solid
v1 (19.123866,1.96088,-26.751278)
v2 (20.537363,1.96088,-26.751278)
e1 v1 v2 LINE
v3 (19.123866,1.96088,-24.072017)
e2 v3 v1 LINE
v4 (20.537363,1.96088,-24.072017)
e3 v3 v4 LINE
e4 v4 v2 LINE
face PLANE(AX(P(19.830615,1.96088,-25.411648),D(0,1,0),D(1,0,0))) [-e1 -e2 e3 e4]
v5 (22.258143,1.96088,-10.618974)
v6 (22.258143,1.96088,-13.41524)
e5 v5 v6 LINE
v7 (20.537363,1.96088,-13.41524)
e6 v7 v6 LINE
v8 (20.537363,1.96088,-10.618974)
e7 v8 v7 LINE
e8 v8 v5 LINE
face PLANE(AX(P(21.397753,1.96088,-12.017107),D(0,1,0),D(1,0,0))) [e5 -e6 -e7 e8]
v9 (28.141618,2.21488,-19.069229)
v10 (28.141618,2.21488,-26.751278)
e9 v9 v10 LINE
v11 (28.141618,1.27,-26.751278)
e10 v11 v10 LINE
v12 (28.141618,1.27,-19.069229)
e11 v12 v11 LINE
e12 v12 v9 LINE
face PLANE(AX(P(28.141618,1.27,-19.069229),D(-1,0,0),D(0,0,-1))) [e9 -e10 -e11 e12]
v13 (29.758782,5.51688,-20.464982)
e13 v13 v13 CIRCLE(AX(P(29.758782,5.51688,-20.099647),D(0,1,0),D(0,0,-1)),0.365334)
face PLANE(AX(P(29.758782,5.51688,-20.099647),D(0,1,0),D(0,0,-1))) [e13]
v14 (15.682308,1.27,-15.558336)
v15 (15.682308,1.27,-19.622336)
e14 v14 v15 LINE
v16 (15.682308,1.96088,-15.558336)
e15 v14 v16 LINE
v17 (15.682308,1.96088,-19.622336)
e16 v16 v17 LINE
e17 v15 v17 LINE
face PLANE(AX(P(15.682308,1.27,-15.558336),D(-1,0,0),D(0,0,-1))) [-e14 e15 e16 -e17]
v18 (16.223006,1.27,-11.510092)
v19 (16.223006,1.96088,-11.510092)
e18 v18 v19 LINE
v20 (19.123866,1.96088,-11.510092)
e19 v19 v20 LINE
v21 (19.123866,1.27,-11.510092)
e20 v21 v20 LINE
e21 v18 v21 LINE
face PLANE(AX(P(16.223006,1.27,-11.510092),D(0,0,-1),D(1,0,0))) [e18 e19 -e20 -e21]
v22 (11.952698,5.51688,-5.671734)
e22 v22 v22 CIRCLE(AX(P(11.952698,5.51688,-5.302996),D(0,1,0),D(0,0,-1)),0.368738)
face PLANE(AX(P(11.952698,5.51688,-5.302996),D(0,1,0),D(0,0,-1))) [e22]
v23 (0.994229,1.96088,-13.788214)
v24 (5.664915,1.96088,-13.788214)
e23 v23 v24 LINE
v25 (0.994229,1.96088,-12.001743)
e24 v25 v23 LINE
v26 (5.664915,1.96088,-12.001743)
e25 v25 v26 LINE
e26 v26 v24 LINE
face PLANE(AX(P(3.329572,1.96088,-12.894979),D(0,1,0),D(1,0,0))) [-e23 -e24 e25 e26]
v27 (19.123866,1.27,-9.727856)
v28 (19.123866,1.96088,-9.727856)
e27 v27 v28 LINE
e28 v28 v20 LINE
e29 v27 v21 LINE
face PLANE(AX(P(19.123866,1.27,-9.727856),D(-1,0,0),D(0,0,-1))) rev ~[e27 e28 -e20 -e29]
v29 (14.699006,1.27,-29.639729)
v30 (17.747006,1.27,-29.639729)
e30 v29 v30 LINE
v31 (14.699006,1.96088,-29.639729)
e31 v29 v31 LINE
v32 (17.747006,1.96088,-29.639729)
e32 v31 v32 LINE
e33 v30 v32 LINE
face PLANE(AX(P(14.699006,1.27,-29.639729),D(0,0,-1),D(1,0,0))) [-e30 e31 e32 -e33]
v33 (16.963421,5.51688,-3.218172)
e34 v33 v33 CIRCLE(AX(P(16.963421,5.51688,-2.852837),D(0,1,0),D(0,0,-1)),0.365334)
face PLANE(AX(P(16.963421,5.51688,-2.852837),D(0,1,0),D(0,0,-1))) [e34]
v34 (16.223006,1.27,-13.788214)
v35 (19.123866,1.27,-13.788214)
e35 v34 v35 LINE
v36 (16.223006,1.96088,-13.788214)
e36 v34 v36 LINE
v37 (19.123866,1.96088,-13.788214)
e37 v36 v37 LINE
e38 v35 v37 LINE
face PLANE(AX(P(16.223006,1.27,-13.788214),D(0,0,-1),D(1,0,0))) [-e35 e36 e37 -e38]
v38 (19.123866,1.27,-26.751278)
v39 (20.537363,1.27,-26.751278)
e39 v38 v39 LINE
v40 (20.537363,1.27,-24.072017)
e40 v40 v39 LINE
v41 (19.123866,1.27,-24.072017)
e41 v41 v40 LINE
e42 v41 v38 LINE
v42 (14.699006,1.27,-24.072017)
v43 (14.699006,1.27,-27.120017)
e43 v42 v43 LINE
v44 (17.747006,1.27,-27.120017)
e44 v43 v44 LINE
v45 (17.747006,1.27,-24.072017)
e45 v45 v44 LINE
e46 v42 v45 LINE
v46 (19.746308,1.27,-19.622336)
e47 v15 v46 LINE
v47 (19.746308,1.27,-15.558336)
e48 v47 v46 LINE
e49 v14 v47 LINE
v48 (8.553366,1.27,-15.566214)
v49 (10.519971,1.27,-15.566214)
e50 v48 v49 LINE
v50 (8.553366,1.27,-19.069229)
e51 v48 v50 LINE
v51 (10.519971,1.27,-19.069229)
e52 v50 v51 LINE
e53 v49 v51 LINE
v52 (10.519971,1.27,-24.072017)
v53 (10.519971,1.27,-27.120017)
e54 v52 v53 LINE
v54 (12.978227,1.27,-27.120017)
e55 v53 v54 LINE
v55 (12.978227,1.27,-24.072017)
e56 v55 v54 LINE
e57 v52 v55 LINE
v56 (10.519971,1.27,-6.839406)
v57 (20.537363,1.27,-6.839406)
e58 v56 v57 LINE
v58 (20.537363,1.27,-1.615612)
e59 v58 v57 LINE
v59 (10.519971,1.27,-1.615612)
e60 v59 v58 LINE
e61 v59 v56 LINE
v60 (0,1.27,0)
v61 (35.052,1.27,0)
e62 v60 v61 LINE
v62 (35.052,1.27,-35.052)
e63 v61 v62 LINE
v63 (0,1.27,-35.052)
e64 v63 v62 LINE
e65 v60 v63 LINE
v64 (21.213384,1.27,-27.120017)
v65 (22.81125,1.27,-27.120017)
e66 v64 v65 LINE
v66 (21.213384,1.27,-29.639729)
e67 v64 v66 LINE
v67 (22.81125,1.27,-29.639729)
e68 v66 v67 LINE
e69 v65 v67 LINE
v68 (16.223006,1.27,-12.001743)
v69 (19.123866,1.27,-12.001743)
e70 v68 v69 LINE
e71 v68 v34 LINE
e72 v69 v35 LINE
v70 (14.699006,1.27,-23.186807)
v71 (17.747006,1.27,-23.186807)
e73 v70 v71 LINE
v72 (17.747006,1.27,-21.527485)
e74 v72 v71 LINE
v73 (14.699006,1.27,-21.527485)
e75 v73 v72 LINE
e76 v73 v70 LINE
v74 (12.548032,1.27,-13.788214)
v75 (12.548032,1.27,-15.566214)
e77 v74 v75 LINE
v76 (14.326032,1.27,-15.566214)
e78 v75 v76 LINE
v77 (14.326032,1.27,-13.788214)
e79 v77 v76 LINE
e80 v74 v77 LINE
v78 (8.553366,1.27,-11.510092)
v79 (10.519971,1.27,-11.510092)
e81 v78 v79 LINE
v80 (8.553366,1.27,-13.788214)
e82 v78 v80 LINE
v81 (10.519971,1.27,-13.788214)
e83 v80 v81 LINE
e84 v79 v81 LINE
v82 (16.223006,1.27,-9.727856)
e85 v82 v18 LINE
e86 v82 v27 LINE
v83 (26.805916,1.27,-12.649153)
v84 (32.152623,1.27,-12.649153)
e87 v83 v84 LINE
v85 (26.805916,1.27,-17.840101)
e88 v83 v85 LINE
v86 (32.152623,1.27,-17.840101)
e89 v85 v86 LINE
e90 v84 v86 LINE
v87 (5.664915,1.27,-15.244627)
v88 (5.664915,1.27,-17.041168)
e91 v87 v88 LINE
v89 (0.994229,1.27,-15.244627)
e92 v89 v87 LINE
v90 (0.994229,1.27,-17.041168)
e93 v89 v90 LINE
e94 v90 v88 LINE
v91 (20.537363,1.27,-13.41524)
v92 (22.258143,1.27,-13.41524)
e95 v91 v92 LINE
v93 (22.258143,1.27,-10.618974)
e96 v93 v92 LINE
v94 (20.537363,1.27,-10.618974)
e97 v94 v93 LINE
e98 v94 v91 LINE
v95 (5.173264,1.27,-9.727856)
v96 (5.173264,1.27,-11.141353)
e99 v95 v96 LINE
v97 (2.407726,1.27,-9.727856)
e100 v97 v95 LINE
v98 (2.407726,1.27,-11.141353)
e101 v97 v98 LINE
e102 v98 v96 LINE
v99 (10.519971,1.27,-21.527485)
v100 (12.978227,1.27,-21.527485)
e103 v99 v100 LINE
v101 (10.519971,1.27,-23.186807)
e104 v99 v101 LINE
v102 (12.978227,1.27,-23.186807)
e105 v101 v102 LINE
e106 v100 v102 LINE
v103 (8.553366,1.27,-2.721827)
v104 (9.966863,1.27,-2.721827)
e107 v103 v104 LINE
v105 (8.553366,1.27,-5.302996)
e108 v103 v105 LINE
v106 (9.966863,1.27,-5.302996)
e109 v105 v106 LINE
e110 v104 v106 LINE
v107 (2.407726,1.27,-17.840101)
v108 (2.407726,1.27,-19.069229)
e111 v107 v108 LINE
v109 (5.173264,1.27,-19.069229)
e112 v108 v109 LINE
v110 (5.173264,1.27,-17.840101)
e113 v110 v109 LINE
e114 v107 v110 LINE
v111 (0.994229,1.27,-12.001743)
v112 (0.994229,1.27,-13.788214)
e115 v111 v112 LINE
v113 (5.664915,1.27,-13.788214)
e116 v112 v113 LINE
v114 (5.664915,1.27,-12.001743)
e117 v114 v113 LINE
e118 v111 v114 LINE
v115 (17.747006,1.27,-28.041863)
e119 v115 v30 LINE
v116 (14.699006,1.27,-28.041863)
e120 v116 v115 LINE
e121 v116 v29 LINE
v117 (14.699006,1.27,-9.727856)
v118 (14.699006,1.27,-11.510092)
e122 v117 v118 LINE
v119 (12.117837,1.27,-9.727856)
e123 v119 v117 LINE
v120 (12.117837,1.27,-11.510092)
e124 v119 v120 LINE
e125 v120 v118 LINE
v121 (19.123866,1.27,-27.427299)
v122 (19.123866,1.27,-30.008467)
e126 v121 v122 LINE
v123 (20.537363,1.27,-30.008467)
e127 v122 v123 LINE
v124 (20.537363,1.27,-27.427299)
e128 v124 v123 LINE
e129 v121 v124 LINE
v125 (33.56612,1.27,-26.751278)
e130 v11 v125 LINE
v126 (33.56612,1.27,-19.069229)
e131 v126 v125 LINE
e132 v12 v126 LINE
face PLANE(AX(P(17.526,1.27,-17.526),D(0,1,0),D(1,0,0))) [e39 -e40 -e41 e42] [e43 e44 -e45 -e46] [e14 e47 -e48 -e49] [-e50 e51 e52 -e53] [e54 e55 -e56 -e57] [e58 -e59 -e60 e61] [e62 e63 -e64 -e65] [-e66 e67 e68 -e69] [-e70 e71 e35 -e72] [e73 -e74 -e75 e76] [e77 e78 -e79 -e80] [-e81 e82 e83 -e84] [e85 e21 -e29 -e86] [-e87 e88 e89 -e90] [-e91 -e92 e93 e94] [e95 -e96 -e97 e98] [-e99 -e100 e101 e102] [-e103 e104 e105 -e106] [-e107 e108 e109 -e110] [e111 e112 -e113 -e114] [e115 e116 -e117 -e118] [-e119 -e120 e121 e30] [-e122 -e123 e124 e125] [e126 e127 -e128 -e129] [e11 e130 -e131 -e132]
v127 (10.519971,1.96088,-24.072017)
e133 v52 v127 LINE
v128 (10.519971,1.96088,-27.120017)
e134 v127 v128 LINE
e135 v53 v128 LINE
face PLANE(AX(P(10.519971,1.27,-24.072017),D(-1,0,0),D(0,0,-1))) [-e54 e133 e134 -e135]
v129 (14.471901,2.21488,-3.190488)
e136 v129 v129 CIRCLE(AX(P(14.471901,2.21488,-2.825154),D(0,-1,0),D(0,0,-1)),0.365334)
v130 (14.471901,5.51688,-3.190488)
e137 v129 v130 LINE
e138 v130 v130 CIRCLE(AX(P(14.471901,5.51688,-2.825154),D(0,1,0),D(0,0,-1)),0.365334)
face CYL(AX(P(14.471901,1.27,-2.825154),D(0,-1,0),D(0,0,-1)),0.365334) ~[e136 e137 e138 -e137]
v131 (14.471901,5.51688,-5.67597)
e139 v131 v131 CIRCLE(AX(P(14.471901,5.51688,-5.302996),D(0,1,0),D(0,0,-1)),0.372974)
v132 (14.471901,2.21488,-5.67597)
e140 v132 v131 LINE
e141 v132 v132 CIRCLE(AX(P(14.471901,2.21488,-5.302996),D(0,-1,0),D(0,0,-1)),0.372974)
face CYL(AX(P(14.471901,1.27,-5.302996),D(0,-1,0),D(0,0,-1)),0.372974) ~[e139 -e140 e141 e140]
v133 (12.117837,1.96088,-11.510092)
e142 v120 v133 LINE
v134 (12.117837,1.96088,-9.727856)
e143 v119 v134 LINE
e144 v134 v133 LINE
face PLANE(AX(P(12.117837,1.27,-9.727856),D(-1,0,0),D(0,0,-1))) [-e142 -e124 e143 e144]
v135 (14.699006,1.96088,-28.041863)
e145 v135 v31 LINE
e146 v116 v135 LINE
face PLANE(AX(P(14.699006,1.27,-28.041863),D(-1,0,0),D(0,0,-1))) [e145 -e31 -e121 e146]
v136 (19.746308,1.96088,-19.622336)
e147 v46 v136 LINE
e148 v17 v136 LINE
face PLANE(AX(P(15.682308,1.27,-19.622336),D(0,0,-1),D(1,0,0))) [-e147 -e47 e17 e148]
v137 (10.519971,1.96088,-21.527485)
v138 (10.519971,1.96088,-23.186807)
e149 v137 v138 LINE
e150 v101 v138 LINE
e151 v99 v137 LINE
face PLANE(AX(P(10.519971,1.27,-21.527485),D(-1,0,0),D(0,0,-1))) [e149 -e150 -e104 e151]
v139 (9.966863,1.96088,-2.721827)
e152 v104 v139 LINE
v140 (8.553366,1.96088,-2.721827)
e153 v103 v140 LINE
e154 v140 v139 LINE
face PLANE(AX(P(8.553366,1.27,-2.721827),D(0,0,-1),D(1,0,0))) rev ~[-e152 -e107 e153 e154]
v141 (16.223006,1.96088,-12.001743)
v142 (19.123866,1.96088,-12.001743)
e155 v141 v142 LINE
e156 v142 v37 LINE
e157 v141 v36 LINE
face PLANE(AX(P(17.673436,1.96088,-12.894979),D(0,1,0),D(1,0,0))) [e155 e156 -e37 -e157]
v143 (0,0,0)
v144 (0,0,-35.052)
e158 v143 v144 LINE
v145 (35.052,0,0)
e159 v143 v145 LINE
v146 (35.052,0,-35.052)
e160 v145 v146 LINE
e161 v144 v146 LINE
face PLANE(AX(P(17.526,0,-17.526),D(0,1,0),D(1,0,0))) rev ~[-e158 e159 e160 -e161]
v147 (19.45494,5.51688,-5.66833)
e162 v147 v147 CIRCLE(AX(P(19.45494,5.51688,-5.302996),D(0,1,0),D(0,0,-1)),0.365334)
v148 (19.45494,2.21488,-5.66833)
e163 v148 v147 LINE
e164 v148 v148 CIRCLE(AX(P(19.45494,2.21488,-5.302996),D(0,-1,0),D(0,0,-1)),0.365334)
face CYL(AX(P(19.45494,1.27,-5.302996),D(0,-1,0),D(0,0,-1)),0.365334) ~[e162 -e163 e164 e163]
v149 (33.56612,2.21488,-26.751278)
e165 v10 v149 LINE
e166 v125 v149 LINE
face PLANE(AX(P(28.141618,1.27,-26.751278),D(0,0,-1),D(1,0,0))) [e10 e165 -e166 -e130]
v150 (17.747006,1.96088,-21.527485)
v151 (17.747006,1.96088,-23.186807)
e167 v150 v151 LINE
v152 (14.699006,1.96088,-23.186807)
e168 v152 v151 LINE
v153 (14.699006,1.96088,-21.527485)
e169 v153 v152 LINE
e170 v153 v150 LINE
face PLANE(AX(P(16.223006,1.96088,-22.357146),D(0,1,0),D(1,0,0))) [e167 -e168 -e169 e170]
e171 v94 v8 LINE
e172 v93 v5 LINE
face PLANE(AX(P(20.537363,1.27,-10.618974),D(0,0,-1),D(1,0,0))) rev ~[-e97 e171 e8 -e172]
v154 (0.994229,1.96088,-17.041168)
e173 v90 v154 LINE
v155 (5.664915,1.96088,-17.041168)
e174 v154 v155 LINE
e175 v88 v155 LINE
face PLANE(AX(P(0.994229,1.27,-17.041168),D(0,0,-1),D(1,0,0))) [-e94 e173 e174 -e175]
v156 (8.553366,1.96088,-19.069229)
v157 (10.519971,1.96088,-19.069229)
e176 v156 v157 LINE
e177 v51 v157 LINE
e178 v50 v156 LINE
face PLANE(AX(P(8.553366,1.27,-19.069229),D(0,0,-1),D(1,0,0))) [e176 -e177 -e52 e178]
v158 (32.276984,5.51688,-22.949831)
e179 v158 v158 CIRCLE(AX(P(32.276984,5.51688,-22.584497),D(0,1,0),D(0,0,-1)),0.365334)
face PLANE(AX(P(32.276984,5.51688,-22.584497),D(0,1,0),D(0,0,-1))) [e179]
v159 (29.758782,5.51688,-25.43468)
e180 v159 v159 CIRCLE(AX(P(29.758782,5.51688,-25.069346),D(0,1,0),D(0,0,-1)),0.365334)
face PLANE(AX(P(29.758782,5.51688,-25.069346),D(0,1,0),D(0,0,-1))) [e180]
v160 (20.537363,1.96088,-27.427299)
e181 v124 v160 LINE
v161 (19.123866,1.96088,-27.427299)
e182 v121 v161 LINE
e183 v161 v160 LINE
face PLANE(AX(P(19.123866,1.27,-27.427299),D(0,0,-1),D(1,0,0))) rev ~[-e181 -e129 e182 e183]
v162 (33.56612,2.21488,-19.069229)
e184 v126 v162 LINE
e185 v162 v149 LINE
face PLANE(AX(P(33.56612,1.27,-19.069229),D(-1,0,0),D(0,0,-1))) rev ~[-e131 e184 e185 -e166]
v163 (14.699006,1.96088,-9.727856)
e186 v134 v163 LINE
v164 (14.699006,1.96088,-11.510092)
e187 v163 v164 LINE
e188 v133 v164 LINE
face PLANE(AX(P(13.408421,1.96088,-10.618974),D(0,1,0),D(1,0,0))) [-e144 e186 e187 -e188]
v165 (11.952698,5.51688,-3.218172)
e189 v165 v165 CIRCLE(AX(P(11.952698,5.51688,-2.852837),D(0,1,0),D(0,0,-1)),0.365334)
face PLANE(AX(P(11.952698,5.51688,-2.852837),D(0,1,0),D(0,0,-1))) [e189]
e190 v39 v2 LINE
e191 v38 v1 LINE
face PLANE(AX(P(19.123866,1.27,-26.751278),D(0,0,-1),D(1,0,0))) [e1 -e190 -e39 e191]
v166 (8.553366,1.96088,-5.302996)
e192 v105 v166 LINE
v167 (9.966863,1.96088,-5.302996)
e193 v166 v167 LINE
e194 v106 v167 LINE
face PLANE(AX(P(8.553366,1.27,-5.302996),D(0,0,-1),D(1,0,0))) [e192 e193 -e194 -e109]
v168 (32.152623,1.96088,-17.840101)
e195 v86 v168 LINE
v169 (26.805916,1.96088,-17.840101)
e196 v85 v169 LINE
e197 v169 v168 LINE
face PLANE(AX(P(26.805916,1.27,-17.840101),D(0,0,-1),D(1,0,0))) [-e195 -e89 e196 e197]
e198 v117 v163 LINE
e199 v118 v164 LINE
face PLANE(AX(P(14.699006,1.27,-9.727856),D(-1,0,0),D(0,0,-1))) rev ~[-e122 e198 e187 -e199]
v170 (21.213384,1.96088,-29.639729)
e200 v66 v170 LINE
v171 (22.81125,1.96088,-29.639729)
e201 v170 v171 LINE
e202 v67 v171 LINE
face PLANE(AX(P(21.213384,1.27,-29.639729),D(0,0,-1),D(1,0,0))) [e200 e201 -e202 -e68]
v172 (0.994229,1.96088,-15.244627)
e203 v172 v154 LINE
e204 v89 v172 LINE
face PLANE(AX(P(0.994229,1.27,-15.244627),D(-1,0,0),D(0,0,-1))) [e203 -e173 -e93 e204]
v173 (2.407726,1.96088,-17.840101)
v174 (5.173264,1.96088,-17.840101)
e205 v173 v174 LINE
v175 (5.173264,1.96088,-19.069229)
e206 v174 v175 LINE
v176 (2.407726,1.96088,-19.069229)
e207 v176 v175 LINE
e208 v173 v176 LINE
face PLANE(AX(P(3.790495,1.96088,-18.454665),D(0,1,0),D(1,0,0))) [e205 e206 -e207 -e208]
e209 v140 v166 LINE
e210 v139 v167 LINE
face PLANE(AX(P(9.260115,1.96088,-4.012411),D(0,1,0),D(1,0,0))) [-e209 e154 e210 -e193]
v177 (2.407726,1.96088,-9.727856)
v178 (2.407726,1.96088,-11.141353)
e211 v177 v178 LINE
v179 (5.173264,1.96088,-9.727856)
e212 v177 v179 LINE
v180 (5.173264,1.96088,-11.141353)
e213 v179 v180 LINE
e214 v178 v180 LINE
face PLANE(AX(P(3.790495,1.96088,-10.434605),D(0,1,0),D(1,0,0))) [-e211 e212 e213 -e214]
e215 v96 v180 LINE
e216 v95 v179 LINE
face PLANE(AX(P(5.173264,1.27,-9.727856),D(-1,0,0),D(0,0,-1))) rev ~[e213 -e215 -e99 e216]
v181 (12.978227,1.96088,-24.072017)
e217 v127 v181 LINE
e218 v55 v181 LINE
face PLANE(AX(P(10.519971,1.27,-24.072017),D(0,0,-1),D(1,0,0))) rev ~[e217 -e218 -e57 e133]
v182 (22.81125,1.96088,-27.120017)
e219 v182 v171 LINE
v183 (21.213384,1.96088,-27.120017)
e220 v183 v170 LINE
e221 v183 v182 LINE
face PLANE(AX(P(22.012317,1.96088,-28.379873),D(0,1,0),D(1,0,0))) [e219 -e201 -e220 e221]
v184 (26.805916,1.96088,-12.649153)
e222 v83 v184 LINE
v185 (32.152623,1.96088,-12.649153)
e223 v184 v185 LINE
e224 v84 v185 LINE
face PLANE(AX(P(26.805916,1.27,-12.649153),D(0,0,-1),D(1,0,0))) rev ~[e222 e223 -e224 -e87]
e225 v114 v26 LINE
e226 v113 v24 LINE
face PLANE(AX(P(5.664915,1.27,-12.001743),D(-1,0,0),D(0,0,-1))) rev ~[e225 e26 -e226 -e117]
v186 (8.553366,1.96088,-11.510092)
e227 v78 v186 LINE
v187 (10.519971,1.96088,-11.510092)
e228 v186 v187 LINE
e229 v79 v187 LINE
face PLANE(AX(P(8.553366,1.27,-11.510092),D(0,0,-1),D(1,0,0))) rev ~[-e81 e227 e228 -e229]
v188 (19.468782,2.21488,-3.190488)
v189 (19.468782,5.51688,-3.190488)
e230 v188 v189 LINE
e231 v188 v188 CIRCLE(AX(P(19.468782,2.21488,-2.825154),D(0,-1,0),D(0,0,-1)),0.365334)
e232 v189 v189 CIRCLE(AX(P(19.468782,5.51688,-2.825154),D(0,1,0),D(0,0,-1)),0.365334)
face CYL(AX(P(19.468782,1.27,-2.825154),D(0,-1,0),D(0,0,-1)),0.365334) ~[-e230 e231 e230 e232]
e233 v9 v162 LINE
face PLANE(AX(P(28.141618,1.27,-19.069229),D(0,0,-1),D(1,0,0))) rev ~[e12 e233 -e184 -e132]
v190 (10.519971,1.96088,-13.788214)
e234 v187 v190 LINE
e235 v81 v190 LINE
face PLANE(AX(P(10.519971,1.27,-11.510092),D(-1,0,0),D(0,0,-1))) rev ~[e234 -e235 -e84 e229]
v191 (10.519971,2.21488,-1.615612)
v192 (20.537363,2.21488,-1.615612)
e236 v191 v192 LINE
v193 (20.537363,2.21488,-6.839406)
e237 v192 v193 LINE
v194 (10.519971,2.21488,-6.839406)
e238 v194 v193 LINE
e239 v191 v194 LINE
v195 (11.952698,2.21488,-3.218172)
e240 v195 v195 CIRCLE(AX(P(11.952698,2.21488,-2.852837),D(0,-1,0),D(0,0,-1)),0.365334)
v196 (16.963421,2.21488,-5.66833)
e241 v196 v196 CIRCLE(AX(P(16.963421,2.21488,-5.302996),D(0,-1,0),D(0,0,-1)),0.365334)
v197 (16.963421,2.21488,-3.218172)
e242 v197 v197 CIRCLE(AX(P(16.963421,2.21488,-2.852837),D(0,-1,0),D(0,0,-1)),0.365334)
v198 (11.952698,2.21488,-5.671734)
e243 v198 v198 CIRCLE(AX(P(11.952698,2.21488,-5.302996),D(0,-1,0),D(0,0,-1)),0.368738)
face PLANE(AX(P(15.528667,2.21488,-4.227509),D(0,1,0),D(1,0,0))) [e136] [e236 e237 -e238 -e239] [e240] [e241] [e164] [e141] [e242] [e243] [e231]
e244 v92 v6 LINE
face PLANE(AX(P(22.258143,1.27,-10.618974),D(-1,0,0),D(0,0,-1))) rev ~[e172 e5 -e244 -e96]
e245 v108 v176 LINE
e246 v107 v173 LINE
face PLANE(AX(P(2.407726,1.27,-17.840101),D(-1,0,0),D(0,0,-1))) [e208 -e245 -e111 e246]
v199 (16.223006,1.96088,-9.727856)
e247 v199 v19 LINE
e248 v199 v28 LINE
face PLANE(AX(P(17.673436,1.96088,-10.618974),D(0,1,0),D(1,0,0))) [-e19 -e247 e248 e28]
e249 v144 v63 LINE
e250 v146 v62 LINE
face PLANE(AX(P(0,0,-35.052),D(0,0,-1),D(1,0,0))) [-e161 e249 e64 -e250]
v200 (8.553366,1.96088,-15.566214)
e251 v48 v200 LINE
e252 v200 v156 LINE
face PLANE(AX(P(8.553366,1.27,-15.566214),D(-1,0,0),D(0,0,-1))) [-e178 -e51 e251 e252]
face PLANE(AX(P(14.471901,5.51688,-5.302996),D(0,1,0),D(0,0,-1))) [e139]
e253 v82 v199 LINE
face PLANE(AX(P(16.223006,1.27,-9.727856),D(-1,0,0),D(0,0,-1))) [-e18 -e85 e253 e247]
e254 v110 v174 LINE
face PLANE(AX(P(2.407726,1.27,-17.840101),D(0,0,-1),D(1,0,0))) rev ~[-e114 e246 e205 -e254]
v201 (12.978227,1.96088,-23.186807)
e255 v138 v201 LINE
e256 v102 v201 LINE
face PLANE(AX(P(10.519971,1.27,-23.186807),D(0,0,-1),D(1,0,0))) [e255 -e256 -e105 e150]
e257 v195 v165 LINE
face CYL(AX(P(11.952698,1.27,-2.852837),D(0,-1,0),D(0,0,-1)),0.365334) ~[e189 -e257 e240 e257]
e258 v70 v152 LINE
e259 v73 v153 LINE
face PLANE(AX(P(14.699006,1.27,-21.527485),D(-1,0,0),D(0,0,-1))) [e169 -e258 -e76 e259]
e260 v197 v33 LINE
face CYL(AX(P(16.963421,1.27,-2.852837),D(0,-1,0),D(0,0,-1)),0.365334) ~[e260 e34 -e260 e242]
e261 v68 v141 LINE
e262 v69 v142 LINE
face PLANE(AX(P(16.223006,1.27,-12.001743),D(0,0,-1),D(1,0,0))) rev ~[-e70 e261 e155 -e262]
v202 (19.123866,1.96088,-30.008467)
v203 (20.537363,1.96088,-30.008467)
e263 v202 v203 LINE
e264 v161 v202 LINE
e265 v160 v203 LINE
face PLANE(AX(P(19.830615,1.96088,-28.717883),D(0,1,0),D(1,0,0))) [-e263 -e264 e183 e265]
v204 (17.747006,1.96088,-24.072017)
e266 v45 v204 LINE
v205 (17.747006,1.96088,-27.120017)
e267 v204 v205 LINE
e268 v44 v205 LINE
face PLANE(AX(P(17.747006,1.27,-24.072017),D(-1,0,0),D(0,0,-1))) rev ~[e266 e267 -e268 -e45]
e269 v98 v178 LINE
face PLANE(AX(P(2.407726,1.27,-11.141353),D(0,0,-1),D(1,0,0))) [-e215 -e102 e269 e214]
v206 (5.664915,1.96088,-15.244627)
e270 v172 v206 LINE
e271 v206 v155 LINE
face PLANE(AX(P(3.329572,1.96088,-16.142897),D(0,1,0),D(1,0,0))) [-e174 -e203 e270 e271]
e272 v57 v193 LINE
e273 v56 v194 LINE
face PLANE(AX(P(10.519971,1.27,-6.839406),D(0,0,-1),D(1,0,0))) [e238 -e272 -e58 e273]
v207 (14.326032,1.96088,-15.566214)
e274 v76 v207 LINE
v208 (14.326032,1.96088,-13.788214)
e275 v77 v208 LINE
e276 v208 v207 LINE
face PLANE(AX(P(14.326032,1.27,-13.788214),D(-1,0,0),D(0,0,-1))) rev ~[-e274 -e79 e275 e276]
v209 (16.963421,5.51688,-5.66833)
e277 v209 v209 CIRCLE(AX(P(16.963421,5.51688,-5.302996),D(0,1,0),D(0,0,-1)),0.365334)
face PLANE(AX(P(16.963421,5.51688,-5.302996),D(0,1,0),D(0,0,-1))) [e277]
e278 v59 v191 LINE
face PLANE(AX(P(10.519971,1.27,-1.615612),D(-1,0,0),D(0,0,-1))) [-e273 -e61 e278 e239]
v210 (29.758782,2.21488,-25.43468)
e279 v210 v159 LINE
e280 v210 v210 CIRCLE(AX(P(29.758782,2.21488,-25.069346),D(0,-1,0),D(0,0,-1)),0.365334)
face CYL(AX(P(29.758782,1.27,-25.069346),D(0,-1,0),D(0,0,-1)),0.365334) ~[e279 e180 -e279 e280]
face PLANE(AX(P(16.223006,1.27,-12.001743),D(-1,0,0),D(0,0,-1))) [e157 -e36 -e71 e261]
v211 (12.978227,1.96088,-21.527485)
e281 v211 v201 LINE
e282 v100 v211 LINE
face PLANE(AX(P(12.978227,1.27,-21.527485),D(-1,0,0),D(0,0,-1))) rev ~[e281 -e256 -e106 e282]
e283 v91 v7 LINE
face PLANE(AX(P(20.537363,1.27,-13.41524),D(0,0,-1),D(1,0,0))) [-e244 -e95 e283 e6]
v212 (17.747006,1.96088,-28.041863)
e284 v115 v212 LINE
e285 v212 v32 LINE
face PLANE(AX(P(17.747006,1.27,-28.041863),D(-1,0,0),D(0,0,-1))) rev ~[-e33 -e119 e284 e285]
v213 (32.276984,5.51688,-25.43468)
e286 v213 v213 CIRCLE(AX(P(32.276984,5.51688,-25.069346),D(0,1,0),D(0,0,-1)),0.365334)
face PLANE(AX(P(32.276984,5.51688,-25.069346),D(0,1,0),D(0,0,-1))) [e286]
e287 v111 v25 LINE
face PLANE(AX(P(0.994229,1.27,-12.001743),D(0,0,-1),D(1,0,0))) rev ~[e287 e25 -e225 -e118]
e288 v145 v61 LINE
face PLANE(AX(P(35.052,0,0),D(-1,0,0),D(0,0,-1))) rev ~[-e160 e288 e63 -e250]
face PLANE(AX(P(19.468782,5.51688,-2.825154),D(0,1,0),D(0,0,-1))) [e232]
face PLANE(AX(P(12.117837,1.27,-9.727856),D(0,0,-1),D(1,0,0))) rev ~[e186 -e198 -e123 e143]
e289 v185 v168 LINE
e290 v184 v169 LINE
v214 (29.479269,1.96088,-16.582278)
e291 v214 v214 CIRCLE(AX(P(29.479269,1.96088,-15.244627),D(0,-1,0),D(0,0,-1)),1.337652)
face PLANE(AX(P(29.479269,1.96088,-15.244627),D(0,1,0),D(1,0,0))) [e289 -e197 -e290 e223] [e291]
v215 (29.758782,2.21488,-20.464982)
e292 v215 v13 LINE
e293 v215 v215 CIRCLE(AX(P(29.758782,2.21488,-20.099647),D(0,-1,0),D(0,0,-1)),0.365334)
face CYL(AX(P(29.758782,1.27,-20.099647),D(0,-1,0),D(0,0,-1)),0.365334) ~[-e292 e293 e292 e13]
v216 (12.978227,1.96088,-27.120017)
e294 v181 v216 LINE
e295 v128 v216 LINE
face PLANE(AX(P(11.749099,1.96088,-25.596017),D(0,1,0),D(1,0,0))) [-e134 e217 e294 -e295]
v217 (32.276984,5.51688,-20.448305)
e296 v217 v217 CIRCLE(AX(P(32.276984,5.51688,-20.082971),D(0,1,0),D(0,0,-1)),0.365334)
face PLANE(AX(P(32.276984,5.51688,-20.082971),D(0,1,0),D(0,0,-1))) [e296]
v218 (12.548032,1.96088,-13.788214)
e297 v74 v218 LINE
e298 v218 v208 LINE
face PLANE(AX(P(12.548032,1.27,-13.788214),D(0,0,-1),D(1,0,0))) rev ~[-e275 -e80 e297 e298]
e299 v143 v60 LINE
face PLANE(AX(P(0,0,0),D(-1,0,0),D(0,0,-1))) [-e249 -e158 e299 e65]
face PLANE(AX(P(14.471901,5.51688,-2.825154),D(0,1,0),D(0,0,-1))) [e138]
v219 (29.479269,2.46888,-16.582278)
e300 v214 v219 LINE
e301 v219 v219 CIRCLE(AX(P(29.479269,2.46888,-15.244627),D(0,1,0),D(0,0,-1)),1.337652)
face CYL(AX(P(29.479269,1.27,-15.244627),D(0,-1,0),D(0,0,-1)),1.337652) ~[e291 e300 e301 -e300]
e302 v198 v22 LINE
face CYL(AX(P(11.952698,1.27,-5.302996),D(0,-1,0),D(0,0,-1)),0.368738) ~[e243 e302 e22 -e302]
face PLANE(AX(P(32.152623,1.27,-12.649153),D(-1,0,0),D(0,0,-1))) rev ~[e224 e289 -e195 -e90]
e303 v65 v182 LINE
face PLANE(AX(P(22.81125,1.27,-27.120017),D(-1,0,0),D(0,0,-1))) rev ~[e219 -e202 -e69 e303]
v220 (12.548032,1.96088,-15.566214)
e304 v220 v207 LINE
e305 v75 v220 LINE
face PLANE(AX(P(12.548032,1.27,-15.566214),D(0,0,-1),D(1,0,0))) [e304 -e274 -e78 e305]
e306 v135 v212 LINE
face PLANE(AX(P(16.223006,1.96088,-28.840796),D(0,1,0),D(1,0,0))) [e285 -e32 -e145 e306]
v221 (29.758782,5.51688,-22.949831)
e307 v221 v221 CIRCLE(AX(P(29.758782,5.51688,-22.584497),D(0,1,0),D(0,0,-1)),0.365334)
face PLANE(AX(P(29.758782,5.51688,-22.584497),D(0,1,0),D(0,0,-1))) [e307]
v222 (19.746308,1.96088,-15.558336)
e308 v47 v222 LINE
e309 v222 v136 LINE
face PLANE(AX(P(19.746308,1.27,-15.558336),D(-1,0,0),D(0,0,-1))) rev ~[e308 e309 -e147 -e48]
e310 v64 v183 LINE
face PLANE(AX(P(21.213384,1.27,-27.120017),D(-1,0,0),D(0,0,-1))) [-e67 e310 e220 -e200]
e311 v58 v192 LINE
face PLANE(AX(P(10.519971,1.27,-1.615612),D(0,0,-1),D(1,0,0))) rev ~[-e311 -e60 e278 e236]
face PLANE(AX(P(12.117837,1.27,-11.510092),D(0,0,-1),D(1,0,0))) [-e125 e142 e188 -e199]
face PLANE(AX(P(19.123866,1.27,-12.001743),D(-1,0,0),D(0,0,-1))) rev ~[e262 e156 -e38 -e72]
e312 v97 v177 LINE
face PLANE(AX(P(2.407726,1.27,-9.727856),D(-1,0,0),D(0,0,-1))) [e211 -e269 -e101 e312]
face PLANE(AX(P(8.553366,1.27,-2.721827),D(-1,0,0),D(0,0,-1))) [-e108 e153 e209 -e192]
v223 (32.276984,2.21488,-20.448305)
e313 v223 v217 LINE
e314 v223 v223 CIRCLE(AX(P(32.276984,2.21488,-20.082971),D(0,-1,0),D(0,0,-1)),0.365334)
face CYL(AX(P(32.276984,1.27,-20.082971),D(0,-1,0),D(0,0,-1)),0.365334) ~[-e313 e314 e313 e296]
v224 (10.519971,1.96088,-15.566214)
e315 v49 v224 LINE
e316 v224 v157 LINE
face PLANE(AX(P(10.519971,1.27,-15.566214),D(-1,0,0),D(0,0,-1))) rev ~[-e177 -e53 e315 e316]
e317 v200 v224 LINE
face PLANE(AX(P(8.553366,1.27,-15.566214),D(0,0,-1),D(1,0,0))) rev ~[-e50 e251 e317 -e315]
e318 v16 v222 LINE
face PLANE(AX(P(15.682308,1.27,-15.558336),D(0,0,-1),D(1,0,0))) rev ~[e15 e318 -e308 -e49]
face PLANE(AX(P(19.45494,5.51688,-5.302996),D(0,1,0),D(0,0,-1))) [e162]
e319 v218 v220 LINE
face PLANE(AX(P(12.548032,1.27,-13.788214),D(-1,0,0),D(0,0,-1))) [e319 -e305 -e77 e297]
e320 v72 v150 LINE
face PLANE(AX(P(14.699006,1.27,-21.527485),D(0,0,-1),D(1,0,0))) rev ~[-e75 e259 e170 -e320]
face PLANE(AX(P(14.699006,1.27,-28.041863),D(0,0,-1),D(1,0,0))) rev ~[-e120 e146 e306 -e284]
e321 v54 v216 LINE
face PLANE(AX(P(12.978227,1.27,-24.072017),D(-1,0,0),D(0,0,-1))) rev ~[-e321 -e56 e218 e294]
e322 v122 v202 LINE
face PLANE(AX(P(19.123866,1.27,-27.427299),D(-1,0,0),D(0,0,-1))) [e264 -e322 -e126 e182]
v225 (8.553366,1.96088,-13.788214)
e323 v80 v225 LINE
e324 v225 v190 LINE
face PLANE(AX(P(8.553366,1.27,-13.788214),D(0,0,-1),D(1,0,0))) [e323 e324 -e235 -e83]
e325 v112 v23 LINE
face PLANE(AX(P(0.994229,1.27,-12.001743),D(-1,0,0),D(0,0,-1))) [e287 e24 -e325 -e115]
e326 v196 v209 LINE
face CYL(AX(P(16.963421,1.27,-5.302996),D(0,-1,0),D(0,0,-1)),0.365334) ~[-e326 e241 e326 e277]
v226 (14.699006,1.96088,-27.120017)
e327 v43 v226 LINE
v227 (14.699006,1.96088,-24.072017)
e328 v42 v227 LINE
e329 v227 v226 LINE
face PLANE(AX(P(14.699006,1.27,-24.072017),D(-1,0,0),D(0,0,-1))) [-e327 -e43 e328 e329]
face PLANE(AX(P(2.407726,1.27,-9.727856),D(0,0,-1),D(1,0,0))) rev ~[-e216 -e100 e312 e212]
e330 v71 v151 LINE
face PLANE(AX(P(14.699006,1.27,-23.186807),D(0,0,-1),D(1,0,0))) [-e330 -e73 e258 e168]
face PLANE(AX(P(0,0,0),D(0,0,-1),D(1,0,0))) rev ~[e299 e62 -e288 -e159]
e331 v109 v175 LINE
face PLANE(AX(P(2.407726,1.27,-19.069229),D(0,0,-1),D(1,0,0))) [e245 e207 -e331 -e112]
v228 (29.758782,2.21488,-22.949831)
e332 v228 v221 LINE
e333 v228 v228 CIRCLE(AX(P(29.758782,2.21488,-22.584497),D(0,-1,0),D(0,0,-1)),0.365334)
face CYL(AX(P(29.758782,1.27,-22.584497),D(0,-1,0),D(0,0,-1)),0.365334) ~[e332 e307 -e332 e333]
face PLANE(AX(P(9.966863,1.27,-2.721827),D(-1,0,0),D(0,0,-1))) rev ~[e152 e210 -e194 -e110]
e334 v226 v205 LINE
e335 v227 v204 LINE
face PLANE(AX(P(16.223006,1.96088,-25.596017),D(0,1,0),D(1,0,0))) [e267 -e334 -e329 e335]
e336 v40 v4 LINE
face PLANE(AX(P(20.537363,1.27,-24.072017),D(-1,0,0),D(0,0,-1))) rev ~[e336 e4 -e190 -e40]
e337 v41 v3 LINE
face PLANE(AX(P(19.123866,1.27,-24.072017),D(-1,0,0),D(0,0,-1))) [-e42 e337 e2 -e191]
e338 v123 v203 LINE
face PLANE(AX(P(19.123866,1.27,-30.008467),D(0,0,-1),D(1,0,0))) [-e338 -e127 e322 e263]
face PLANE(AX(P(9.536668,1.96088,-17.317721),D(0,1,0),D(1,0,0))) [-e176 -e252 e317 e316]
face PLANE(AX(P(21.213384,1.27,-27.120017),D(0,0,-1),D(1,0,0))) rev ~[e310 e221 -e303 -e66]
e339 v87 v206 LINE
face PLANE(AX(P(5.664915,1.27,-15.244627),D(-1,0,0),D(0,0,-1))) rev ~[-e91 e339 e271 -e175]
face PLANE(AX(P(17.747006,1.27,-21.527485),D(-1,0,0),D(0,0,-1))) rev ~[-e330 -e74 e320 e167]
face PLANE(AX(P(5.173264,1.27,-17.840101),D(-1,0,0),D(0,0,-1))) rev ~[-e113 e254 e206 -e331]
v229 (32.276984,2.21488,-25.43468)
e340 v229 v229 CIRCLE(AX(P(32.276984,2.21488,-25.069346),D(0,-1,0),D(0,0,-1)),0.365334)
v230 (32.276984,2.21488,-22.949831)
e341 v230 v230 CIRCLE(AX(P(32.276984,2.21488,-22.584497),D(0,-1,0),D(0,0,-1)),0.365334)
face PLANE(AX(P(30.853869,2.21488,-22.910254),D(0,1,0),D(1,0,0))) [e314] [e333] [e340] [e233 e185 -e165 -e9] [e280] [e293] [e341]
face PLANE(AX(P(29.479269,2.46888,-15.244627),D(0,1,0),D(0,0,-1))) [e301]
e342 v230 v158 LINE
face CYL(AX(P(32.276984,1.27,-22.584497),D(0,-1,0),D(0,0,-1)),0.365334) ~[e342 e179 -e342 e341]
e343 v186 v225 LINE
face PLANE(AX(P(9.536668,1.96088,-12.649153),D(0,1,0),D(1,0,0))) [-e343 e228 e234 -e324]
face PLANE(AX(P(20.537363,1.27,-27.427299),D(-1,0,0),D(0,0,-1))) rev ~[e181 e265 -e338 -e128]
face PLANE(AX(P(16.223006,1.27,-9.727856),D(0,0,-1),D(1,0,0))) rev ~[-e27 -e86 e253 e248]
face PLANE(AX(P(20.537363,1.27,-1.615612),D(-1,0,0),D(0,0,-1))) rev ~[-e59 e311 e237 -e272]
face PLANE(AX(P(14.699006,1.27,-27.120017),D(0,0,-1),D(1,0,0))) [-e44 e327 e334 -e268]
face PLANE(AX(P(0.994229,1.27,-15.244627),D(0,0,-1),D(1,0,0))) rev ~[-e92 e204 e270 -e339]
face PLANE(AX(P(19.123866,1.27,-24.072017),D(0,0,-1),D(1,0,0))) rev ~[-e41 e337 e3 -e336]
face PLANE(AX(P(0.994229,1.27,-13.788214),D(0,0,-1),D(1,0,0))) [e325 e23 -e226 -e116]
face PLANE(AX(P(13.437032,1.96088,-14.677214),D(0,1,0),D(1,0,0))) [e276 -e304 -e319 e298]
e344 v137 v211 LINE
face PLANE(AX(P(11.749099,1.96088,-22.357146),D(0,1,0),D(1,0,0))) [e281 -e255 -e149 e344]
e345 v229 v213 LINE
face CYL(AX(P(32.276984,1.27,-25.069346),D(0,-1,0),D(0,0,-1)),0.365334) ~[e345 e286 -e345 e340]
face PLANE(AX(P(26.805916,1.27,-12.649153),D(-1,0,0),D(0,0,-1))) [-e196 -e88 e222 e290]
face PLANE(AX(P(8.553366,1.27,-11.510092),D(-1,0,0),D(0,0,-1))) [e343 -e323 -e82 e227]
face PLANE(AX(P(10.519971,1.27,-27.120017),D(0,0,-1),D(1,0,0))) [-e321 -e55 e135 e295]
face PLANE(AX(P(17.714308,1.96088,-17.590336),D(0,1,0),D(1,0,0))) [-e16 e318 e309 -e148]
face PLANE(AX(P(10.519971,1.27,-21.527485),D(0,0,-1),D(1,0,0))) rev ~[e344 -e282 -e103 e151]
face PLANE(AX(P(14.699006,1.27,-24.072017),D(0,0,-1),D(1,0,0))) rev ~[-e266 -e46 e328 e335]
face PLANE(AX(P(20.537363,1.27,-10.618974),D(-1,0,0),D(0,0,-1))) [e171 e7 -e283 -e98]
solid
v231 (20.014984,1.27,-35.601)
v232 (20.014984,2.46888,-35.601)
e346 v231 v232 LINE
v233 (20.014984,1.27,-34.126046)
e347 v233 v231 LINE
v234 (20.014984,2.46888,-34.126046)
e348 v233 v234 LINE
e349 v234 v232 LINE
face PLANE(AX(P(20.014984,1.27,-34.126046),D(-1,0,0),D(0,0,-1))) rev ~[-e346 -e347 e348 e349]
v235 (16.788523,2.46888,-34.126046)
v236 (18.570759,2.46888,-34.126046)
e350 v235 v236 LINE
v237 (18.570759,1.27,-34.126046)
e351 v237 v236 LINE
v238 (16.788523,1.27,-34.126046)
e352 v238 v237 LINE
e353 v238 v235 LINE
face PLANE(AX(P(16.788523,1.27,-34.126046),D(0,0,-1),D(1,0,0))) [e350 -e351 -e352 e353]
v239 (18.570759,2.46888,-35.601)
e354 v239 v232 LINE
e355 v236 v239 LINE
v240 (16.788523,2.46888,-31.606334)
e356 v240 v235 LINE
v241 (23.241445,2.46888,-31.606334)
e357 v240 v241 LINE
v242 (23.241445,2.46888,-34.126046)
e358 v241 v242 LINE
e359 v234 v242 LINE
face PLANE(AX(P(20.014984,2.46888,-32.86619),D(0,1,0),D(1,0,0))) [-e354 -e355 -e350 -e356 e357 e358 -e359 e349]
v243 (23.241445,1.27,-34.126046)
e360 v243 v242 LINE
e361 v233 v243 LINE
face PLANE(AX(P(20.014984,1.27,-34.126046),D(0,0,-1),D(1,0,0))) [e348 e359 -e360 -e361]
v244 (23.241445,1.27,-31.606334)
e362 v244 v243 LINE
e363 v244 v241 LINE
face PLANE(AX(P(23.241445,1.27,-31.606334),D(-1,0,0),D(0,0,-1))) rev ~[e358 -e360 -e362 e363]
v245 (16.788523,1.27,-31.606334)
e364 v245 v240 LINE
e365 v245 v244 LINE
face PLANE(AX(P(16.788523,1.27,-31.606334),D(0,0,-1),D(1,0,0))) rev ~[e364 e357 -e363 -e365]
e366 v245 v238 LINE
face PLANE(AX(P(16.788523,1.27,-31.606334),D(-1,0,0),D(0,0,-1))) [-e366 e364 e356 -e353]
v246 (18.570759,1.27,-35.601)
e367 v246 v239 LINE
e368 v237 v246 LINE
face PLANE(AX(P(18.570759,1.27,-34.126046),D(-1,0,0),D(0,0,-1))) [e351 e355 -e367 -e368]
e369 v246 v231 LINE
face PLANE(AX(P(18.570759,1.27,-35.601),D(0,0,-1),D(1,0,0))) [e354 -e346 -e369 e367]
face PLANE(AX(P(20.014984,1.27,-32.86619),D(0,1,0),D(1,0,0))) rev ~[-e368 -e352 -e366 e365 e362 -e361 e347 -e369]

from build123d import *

# Parameters (mm, degrees)
SKETCH1_W           = 35.052
SKETCH1_H           = 35.052
BOSS_EXTRUDE1_DEPTH = 1.27
SKETCH2_W           = 6.452921714
SKETCH2_H           = 2.519712288
SKETCH2_W_2         = 1.444225336
SKETCH2_H_2         = 1.474953535
BOSS_EXTRUDE2_DEPTH = 1.19888
SKETCH2_3_W         = 3.048
SKETCH2_3_H         = 1.597866329
BOSS_EXTRUDE3_DEPTH = 0.69088
SKETCH2_4_W         = 1.778
SKETCH2_4_H         = 1.778
SKETCH2_4_W_2       = 4.064
SKETCH2_4_H_2       = 4.064
SKETCH2_4_W_3       = 3.048
SKETCH2_4_H_3       = 3.048
SKETCH2_4_W_4       = 2.458255891
SKETCH2_4_W_5       = 1.597866329
SKETCH2_4_H_4       = 2.519712288
SKETCH2_4_W_6       = 1.413497138
SKETCH2_4_H_5       = 2.581168686
SKETCH2_4_H_6       = 2.679261616
SKETCH2_4_H_7       = 1.659322727
SKETCH2_4_W_7       = 1.966604713
SKETCH2_4_H_8       = 3.503014645
SKETCH2_4_H_9       = 2.27812222
SKETCH2_4_W_8       = 2.581168686
SKETCH2_4_H_10      = 1.782235521
SKETCH2_4_W_9       = 2.900860604
SKETCH2_4_H_11      = 1.786471042
SKETCH2_4_W_10      = 1.720779123
SKETCH2_4_H_12      = 2.796266077
SKETCH2_4_W_11      = 4.670686193
SKETCH2_4_H_13      = 1.79654074
SKETCH2_4_W_12      = 2.765537878
SKETCH2_4_H_14      = 1.229127945
SKETCH2_4_H_15      = 1.413497137
BOSS_EXTRUDE4_DEPTH = 0.69088
SKETCH2_5_R         = 0.368738384
SKETCH2_5_R_2       = 0.372973905
SKETCH2_5_R_3       = 0.365334134
BOSS_EXTRUDE5_DEPTH = 4.24688
SKETCH2_6_W         = 5.424501995
SKETCH2_6_H         = 7.68204966
SKETCH2_6_R         = 0.365334134
SKETCH2_6_W_2       = 10.017392757
SKETCH2_6_H_2       = 5.223793769
SKETCH2_6_R_2       = 0.368738384
SKETCH2_6_R_3       = 0.372973905
BOSS_EXTRUDE6_DEPTH = 0.94488
SKETCH2_7_R         = 1.337651576
BOSS_EXTRUDE7_DEPTH = 1.19888
SKETCH2_8_W         = 5.346706563
SKETCH2_8_H         = 5.19094781
SKETCH2_8_R         = 1.337651576
BOSS_EXTRUDE8_DEPTH = 0.69088


with BuildPart() as part:
    # Sketch1 → Boss-Extrude1 (new body)
    with BuildSketch(Plane(origin=(0, 0, 0), x_dir=(1, 0, 0), z_dir=(0, 1, 0))):
        with Locations((17.526, 17.526)):
            Rectangle(SKETCH1_W, SKETCH1_H)
    extrude(amount=BOSS_EXTRUDE1_DEPTH)

    # Sketch2<3> → Boss-Extrude3 (add)
    with BuildSketch(Plane(origin=(0, 1.27, 0), x_dir=(1, 0, 0), z_dir=(0, 1, 0))):
        with Locations((16.223005725, 28.840795859)):
            Rectangle(SKETCH2_3_W, SKETCH2_3_H)
    extrude(amount=BOSS_EXTRUDE3_DEPTH)

    # Sketch2<4> → Boss-Extrude4 (add)
    with BuildSketch(Plane(origin=(0, 1.27, 0), x_dir=(1, 0, 0), z_dir=(0, 1, 0))):
        with Locations((13.43703182, 14.677214046)):
            Rectangle(SKETCH2_4_W, SKETCH2_4_H)
        with Locations((17.714308082, 17.590336267)):
            Rectangle(SKETCH2_4_W_2, SKETCH2_4_H_2)
        with Locations((16.223005725, 25.596016735)):
            Rectangle(SKETCH2_4_W_3, SKETCH2_4_H_3)
        with Locations((11.749098656, 25.596016735)):
            Rectangle(SKETCH2_4_W_4, SKETCH2_4_H_3)
        with Locations((22.012317002, 28.379872879)):
            Rectangle(SKETCH2_4_W_5, SKETCH2_4_H_4)
        with Locations((19.830614898, 28.717883064)):
            Rectangle(SKETCH2_4_W_6, SKETCH2_4_H_5)
        with Locations((19.830614898, 25.411647543)):
            Rectangle(SKETCH2_4_W_6, SKETCH2_4_H_6)
        with Locations((11.749098656, 22.357145946)):
            Rectangle(SKETCH2_4_W_4, SKETCH2_4_H_7)
        with Locations((16.223005725, 22.357145946)):
            Rectangle(SKETCH2_4_W_3, SKETCH2_4_H_7)
        with Locations((9.536668354, 17.317721369)):
            Rectangle(SKETCH2_4_W_7, SKETCH2_4_H_8)
        with Locations((9.536668354, 12.649152936)):
            Rectangle(SKETCH2_4_W_7, SKETCH2_4_H_9)
        with Locations((13.408421382, 10.618974066)):
            Rectangle(SKETCH2_4_W_8, SKETCH2_4_H_10)
        with Locations((17.673436027, 12.894978525)):
            Rectangle(SKETCH2_4_W_9, SKETCH2_4_H_11)
        with Locations((17.673436027, 10.618974066)):
            Rectangle(SKETCH2_4_W_9, SKETCH2_4_H_10)
        with Locations((21.397753029, 12.017107104)):
            Rectangle(SKETCH2_4_W_10, SKETCH2_4_H_12)
        with Locations((3.329572229, 16.142897211)):
            Rectangle(SKETCH2_4_W_11, SKETCH2_4_H_13)
        with Locations((3.329572229, 12.894978525)):
            Rectangle(SKETCH2_4_W_11, SKETCH2_4_H_11)
        with Locations((3.790495208, 18.454664719)):
            Rectangle(SKETCH2_4_W_12, SKETCH2_4_H_14)
        with Locations((3.790495208, 10.434604874)):
            Rectangle(SKETCH2_4_W_12, SKETCH2_4_H_15)
        with Locations((9.260114566, 4.012411358)):
            Rectangle(SKETCH2_4_W_6, SKETCH2_4_H_5)
    extrude(amount=BOSS_EXTRUDE4_DEPTH)

    # Sketch2<5> → Boss-Extrude5 (add)
    with BuildSketch(Plane(origin=(0, 1.27, 0), x_dir=(1, 0, 0), z_dir=(0, 1, 0))):
        with Locations((11.952697536, 5.302995701)):
            Circle(SKETCH2_5_R)
        with Locations((14.471900881, 5.302995701)):
            Circle(SKETCH2_5_R_2)
        with Locations((16.963420672, 5.302995701)):
            Circle(SKETCH2_5_R_3)
        with Locations((19.454940464, 5.302995701)):
            Circle(SKETCH2_5_R_3)
        with Locations((19.468782241, 2.825153872)):
            Circle(SKETCH2_5_R_3)
        with Locations((16.963420672, 2.852837425)):
            Circle(SKETCH2_5_R_3)
        with Locations((14.471900881, 2.825153872)):
            Circle(SKETCH2_5_R_3)
        with Locations((11.952697536, 2.852837425)):
            Circle(SKETCH2_5_R_3)
        with Locations((29.758781713, 25.069345596)):
            Circle(SKETCH2_5_R_3)
        with Locations((32.276984447, 25.069345596)):
            Circle(SKETCH2_5_R_3)
        with Locations((32.276984447, 22.58449654)):
            Circle(SKETCH2_5_R_3)
        with Locations((32.276984447, 20.082970645)):
            Circle(SKETCH2_5_R_3)
        with Locations((29.758781713, 20.099647484)):
            Circle(SKETCH2_5_R_3)
        with Locations((29.758781713, 22.58449654)):
            Circle(SKETCH2_5_R_3)
    extrude(amount=BOSS_EXTRUDE5_DEPTH)

    # Sketch2<6> → Boss-Extrude6 (add)
    # profile 1 of 2: a face of its own
    with BuildSketch(Plane(origin=(0, 1.27, 0), x_dir=(1, 0, 0), z_dir=(0, 1, 0))):
        with Locations((30.853868693, 22.910253521)):
            Rectangle(SKETCH2_6_W, SKETCH2_6_H)
        with Locations((29.758781713, 20.099647484)):
            Circle(SKETCH2_6_R, mode=Mode.SUBTRACT)
        with Locations((32.276984447, 20.082970645)):
            Circle(SKETCH2_6_R, mode=Mode.SUBTRACT)
        with Locations((29.758781713, 22.58449654)):
            Circle(SKETCH2_6_R, mode=Mode.SUBTRACT)
        with Locations((32.276984447, 22.58449654)):
            Circle(SKETCH2_6_R, mode=Mode.SUBTRACT)
        with Locations((29.758781713, 25.069345596)):
            Circle(SKETCH2_6_R, mode=Mode.SUBTRACT)
        with Locations((32.276984447, 25.069345596)):
            Circle(SKETCH2_6_R, mode=Mode.SUBTRACT)
    # profile 2 of 2: a face of its own
    with BuildSketch(Plane(origin=(0, 1.27, 0), x_dir=(1, 0, 0), z_dir=(0, 1, 0))):
        with Locations((15.528667089, 4.227508749)):
            Rectangle(SKETCH2_6_W_2, SKETCH2_6_H_2)
        with Locations((11.952697536, 2.852837425)):
            Circle(SKETCH2_6_R, mode=Mode.SUBTRACT)
        with Locations((11.952697536, 5.302995701)):
            Circle(SKETCH2_6_R_2, mode=Mode.SUBTRACT)
        with Locations((14.471900881, 2.825153872)):
            Circle(SKETCH2_6_R, mode=Mode.SUBTRACT)
        with Locations((16.963420672, 2.852837425)):
            Circle(SKETCH2_6_R, mode=Mode.SUBTRACT)
        with Locations((14.471900881, 5.302995701)):
            Circle(SKETCH2_6_R_3, mode=Mode.SUBTRACT)
        with Locations((16.963420672, 5.302995701)):
            Circle(SKETCH2_6_R, mode=Mode.SUBTRACT)
        with Locations((19.468782241, 2.825153872)):
            Circle(SKETCH2_6_R, mode=Mode.SUBTRACT)
        with Locations((19.454940464, 5.302995701)):
            Circle(SKETCH2_6_R, mode=Mode.SUBTRACT)
    extrude(amount=BOSS_EXTRUDE6_DEPTH)

    # Sketch2<7> → Boss-Extrude7 (add)
    with BuildSketch(Plane(origin=(0, 1.27, 0), x_dir=(1, 0, 0), z_dir=(0, 1, 0))):
        with Locations((29.479269271, 15.244626841)):
            Circle(SKETCH2_7_R)
    extrude(amount=BOSS_EXTRUDE7_DEPTH)

    # Sketch2<8> → Boss-Extrude8 (add)
    with BuildSketch(Plane(origin=(0, 1.27, 0), x_dir=(1, 0, 0), z_dir=(0, 1, 0))):
        with Locations((29.479269271, 15.244626841)):
            Rectangle(SKETCH2_8_W, SKETCH2_8_H)
        with Locations((29.479269271, 15.244626841)):
            Circle(SKETCH2_8_R, mode=Mode.SUBTRACT)
    extrude(amount=BOSS_EXTRUDE8_DEPTH)


with BuildPart() as body_2:
    # Sketch2 → Boss-Extrude2 (new body)
    with BuildSketch(Plane(origin=(0, 1.27, 0), x_dir=(1, 0, 0), z_dir=(0, 1, 0))):
        with Locations((20.01498409, 32.86618988)):
            Rectangle(SKETCH2_W, SKETCH2_H)
        with Locations((19.292871422, 34.863522792)):
            Rectangle(SKETCH2_W_2, SKETCH2_H_2)
    extrude(amount=BOSS_EXTRUDE2_DEPTH)


solid = Compound([part.part, body_2.part])
